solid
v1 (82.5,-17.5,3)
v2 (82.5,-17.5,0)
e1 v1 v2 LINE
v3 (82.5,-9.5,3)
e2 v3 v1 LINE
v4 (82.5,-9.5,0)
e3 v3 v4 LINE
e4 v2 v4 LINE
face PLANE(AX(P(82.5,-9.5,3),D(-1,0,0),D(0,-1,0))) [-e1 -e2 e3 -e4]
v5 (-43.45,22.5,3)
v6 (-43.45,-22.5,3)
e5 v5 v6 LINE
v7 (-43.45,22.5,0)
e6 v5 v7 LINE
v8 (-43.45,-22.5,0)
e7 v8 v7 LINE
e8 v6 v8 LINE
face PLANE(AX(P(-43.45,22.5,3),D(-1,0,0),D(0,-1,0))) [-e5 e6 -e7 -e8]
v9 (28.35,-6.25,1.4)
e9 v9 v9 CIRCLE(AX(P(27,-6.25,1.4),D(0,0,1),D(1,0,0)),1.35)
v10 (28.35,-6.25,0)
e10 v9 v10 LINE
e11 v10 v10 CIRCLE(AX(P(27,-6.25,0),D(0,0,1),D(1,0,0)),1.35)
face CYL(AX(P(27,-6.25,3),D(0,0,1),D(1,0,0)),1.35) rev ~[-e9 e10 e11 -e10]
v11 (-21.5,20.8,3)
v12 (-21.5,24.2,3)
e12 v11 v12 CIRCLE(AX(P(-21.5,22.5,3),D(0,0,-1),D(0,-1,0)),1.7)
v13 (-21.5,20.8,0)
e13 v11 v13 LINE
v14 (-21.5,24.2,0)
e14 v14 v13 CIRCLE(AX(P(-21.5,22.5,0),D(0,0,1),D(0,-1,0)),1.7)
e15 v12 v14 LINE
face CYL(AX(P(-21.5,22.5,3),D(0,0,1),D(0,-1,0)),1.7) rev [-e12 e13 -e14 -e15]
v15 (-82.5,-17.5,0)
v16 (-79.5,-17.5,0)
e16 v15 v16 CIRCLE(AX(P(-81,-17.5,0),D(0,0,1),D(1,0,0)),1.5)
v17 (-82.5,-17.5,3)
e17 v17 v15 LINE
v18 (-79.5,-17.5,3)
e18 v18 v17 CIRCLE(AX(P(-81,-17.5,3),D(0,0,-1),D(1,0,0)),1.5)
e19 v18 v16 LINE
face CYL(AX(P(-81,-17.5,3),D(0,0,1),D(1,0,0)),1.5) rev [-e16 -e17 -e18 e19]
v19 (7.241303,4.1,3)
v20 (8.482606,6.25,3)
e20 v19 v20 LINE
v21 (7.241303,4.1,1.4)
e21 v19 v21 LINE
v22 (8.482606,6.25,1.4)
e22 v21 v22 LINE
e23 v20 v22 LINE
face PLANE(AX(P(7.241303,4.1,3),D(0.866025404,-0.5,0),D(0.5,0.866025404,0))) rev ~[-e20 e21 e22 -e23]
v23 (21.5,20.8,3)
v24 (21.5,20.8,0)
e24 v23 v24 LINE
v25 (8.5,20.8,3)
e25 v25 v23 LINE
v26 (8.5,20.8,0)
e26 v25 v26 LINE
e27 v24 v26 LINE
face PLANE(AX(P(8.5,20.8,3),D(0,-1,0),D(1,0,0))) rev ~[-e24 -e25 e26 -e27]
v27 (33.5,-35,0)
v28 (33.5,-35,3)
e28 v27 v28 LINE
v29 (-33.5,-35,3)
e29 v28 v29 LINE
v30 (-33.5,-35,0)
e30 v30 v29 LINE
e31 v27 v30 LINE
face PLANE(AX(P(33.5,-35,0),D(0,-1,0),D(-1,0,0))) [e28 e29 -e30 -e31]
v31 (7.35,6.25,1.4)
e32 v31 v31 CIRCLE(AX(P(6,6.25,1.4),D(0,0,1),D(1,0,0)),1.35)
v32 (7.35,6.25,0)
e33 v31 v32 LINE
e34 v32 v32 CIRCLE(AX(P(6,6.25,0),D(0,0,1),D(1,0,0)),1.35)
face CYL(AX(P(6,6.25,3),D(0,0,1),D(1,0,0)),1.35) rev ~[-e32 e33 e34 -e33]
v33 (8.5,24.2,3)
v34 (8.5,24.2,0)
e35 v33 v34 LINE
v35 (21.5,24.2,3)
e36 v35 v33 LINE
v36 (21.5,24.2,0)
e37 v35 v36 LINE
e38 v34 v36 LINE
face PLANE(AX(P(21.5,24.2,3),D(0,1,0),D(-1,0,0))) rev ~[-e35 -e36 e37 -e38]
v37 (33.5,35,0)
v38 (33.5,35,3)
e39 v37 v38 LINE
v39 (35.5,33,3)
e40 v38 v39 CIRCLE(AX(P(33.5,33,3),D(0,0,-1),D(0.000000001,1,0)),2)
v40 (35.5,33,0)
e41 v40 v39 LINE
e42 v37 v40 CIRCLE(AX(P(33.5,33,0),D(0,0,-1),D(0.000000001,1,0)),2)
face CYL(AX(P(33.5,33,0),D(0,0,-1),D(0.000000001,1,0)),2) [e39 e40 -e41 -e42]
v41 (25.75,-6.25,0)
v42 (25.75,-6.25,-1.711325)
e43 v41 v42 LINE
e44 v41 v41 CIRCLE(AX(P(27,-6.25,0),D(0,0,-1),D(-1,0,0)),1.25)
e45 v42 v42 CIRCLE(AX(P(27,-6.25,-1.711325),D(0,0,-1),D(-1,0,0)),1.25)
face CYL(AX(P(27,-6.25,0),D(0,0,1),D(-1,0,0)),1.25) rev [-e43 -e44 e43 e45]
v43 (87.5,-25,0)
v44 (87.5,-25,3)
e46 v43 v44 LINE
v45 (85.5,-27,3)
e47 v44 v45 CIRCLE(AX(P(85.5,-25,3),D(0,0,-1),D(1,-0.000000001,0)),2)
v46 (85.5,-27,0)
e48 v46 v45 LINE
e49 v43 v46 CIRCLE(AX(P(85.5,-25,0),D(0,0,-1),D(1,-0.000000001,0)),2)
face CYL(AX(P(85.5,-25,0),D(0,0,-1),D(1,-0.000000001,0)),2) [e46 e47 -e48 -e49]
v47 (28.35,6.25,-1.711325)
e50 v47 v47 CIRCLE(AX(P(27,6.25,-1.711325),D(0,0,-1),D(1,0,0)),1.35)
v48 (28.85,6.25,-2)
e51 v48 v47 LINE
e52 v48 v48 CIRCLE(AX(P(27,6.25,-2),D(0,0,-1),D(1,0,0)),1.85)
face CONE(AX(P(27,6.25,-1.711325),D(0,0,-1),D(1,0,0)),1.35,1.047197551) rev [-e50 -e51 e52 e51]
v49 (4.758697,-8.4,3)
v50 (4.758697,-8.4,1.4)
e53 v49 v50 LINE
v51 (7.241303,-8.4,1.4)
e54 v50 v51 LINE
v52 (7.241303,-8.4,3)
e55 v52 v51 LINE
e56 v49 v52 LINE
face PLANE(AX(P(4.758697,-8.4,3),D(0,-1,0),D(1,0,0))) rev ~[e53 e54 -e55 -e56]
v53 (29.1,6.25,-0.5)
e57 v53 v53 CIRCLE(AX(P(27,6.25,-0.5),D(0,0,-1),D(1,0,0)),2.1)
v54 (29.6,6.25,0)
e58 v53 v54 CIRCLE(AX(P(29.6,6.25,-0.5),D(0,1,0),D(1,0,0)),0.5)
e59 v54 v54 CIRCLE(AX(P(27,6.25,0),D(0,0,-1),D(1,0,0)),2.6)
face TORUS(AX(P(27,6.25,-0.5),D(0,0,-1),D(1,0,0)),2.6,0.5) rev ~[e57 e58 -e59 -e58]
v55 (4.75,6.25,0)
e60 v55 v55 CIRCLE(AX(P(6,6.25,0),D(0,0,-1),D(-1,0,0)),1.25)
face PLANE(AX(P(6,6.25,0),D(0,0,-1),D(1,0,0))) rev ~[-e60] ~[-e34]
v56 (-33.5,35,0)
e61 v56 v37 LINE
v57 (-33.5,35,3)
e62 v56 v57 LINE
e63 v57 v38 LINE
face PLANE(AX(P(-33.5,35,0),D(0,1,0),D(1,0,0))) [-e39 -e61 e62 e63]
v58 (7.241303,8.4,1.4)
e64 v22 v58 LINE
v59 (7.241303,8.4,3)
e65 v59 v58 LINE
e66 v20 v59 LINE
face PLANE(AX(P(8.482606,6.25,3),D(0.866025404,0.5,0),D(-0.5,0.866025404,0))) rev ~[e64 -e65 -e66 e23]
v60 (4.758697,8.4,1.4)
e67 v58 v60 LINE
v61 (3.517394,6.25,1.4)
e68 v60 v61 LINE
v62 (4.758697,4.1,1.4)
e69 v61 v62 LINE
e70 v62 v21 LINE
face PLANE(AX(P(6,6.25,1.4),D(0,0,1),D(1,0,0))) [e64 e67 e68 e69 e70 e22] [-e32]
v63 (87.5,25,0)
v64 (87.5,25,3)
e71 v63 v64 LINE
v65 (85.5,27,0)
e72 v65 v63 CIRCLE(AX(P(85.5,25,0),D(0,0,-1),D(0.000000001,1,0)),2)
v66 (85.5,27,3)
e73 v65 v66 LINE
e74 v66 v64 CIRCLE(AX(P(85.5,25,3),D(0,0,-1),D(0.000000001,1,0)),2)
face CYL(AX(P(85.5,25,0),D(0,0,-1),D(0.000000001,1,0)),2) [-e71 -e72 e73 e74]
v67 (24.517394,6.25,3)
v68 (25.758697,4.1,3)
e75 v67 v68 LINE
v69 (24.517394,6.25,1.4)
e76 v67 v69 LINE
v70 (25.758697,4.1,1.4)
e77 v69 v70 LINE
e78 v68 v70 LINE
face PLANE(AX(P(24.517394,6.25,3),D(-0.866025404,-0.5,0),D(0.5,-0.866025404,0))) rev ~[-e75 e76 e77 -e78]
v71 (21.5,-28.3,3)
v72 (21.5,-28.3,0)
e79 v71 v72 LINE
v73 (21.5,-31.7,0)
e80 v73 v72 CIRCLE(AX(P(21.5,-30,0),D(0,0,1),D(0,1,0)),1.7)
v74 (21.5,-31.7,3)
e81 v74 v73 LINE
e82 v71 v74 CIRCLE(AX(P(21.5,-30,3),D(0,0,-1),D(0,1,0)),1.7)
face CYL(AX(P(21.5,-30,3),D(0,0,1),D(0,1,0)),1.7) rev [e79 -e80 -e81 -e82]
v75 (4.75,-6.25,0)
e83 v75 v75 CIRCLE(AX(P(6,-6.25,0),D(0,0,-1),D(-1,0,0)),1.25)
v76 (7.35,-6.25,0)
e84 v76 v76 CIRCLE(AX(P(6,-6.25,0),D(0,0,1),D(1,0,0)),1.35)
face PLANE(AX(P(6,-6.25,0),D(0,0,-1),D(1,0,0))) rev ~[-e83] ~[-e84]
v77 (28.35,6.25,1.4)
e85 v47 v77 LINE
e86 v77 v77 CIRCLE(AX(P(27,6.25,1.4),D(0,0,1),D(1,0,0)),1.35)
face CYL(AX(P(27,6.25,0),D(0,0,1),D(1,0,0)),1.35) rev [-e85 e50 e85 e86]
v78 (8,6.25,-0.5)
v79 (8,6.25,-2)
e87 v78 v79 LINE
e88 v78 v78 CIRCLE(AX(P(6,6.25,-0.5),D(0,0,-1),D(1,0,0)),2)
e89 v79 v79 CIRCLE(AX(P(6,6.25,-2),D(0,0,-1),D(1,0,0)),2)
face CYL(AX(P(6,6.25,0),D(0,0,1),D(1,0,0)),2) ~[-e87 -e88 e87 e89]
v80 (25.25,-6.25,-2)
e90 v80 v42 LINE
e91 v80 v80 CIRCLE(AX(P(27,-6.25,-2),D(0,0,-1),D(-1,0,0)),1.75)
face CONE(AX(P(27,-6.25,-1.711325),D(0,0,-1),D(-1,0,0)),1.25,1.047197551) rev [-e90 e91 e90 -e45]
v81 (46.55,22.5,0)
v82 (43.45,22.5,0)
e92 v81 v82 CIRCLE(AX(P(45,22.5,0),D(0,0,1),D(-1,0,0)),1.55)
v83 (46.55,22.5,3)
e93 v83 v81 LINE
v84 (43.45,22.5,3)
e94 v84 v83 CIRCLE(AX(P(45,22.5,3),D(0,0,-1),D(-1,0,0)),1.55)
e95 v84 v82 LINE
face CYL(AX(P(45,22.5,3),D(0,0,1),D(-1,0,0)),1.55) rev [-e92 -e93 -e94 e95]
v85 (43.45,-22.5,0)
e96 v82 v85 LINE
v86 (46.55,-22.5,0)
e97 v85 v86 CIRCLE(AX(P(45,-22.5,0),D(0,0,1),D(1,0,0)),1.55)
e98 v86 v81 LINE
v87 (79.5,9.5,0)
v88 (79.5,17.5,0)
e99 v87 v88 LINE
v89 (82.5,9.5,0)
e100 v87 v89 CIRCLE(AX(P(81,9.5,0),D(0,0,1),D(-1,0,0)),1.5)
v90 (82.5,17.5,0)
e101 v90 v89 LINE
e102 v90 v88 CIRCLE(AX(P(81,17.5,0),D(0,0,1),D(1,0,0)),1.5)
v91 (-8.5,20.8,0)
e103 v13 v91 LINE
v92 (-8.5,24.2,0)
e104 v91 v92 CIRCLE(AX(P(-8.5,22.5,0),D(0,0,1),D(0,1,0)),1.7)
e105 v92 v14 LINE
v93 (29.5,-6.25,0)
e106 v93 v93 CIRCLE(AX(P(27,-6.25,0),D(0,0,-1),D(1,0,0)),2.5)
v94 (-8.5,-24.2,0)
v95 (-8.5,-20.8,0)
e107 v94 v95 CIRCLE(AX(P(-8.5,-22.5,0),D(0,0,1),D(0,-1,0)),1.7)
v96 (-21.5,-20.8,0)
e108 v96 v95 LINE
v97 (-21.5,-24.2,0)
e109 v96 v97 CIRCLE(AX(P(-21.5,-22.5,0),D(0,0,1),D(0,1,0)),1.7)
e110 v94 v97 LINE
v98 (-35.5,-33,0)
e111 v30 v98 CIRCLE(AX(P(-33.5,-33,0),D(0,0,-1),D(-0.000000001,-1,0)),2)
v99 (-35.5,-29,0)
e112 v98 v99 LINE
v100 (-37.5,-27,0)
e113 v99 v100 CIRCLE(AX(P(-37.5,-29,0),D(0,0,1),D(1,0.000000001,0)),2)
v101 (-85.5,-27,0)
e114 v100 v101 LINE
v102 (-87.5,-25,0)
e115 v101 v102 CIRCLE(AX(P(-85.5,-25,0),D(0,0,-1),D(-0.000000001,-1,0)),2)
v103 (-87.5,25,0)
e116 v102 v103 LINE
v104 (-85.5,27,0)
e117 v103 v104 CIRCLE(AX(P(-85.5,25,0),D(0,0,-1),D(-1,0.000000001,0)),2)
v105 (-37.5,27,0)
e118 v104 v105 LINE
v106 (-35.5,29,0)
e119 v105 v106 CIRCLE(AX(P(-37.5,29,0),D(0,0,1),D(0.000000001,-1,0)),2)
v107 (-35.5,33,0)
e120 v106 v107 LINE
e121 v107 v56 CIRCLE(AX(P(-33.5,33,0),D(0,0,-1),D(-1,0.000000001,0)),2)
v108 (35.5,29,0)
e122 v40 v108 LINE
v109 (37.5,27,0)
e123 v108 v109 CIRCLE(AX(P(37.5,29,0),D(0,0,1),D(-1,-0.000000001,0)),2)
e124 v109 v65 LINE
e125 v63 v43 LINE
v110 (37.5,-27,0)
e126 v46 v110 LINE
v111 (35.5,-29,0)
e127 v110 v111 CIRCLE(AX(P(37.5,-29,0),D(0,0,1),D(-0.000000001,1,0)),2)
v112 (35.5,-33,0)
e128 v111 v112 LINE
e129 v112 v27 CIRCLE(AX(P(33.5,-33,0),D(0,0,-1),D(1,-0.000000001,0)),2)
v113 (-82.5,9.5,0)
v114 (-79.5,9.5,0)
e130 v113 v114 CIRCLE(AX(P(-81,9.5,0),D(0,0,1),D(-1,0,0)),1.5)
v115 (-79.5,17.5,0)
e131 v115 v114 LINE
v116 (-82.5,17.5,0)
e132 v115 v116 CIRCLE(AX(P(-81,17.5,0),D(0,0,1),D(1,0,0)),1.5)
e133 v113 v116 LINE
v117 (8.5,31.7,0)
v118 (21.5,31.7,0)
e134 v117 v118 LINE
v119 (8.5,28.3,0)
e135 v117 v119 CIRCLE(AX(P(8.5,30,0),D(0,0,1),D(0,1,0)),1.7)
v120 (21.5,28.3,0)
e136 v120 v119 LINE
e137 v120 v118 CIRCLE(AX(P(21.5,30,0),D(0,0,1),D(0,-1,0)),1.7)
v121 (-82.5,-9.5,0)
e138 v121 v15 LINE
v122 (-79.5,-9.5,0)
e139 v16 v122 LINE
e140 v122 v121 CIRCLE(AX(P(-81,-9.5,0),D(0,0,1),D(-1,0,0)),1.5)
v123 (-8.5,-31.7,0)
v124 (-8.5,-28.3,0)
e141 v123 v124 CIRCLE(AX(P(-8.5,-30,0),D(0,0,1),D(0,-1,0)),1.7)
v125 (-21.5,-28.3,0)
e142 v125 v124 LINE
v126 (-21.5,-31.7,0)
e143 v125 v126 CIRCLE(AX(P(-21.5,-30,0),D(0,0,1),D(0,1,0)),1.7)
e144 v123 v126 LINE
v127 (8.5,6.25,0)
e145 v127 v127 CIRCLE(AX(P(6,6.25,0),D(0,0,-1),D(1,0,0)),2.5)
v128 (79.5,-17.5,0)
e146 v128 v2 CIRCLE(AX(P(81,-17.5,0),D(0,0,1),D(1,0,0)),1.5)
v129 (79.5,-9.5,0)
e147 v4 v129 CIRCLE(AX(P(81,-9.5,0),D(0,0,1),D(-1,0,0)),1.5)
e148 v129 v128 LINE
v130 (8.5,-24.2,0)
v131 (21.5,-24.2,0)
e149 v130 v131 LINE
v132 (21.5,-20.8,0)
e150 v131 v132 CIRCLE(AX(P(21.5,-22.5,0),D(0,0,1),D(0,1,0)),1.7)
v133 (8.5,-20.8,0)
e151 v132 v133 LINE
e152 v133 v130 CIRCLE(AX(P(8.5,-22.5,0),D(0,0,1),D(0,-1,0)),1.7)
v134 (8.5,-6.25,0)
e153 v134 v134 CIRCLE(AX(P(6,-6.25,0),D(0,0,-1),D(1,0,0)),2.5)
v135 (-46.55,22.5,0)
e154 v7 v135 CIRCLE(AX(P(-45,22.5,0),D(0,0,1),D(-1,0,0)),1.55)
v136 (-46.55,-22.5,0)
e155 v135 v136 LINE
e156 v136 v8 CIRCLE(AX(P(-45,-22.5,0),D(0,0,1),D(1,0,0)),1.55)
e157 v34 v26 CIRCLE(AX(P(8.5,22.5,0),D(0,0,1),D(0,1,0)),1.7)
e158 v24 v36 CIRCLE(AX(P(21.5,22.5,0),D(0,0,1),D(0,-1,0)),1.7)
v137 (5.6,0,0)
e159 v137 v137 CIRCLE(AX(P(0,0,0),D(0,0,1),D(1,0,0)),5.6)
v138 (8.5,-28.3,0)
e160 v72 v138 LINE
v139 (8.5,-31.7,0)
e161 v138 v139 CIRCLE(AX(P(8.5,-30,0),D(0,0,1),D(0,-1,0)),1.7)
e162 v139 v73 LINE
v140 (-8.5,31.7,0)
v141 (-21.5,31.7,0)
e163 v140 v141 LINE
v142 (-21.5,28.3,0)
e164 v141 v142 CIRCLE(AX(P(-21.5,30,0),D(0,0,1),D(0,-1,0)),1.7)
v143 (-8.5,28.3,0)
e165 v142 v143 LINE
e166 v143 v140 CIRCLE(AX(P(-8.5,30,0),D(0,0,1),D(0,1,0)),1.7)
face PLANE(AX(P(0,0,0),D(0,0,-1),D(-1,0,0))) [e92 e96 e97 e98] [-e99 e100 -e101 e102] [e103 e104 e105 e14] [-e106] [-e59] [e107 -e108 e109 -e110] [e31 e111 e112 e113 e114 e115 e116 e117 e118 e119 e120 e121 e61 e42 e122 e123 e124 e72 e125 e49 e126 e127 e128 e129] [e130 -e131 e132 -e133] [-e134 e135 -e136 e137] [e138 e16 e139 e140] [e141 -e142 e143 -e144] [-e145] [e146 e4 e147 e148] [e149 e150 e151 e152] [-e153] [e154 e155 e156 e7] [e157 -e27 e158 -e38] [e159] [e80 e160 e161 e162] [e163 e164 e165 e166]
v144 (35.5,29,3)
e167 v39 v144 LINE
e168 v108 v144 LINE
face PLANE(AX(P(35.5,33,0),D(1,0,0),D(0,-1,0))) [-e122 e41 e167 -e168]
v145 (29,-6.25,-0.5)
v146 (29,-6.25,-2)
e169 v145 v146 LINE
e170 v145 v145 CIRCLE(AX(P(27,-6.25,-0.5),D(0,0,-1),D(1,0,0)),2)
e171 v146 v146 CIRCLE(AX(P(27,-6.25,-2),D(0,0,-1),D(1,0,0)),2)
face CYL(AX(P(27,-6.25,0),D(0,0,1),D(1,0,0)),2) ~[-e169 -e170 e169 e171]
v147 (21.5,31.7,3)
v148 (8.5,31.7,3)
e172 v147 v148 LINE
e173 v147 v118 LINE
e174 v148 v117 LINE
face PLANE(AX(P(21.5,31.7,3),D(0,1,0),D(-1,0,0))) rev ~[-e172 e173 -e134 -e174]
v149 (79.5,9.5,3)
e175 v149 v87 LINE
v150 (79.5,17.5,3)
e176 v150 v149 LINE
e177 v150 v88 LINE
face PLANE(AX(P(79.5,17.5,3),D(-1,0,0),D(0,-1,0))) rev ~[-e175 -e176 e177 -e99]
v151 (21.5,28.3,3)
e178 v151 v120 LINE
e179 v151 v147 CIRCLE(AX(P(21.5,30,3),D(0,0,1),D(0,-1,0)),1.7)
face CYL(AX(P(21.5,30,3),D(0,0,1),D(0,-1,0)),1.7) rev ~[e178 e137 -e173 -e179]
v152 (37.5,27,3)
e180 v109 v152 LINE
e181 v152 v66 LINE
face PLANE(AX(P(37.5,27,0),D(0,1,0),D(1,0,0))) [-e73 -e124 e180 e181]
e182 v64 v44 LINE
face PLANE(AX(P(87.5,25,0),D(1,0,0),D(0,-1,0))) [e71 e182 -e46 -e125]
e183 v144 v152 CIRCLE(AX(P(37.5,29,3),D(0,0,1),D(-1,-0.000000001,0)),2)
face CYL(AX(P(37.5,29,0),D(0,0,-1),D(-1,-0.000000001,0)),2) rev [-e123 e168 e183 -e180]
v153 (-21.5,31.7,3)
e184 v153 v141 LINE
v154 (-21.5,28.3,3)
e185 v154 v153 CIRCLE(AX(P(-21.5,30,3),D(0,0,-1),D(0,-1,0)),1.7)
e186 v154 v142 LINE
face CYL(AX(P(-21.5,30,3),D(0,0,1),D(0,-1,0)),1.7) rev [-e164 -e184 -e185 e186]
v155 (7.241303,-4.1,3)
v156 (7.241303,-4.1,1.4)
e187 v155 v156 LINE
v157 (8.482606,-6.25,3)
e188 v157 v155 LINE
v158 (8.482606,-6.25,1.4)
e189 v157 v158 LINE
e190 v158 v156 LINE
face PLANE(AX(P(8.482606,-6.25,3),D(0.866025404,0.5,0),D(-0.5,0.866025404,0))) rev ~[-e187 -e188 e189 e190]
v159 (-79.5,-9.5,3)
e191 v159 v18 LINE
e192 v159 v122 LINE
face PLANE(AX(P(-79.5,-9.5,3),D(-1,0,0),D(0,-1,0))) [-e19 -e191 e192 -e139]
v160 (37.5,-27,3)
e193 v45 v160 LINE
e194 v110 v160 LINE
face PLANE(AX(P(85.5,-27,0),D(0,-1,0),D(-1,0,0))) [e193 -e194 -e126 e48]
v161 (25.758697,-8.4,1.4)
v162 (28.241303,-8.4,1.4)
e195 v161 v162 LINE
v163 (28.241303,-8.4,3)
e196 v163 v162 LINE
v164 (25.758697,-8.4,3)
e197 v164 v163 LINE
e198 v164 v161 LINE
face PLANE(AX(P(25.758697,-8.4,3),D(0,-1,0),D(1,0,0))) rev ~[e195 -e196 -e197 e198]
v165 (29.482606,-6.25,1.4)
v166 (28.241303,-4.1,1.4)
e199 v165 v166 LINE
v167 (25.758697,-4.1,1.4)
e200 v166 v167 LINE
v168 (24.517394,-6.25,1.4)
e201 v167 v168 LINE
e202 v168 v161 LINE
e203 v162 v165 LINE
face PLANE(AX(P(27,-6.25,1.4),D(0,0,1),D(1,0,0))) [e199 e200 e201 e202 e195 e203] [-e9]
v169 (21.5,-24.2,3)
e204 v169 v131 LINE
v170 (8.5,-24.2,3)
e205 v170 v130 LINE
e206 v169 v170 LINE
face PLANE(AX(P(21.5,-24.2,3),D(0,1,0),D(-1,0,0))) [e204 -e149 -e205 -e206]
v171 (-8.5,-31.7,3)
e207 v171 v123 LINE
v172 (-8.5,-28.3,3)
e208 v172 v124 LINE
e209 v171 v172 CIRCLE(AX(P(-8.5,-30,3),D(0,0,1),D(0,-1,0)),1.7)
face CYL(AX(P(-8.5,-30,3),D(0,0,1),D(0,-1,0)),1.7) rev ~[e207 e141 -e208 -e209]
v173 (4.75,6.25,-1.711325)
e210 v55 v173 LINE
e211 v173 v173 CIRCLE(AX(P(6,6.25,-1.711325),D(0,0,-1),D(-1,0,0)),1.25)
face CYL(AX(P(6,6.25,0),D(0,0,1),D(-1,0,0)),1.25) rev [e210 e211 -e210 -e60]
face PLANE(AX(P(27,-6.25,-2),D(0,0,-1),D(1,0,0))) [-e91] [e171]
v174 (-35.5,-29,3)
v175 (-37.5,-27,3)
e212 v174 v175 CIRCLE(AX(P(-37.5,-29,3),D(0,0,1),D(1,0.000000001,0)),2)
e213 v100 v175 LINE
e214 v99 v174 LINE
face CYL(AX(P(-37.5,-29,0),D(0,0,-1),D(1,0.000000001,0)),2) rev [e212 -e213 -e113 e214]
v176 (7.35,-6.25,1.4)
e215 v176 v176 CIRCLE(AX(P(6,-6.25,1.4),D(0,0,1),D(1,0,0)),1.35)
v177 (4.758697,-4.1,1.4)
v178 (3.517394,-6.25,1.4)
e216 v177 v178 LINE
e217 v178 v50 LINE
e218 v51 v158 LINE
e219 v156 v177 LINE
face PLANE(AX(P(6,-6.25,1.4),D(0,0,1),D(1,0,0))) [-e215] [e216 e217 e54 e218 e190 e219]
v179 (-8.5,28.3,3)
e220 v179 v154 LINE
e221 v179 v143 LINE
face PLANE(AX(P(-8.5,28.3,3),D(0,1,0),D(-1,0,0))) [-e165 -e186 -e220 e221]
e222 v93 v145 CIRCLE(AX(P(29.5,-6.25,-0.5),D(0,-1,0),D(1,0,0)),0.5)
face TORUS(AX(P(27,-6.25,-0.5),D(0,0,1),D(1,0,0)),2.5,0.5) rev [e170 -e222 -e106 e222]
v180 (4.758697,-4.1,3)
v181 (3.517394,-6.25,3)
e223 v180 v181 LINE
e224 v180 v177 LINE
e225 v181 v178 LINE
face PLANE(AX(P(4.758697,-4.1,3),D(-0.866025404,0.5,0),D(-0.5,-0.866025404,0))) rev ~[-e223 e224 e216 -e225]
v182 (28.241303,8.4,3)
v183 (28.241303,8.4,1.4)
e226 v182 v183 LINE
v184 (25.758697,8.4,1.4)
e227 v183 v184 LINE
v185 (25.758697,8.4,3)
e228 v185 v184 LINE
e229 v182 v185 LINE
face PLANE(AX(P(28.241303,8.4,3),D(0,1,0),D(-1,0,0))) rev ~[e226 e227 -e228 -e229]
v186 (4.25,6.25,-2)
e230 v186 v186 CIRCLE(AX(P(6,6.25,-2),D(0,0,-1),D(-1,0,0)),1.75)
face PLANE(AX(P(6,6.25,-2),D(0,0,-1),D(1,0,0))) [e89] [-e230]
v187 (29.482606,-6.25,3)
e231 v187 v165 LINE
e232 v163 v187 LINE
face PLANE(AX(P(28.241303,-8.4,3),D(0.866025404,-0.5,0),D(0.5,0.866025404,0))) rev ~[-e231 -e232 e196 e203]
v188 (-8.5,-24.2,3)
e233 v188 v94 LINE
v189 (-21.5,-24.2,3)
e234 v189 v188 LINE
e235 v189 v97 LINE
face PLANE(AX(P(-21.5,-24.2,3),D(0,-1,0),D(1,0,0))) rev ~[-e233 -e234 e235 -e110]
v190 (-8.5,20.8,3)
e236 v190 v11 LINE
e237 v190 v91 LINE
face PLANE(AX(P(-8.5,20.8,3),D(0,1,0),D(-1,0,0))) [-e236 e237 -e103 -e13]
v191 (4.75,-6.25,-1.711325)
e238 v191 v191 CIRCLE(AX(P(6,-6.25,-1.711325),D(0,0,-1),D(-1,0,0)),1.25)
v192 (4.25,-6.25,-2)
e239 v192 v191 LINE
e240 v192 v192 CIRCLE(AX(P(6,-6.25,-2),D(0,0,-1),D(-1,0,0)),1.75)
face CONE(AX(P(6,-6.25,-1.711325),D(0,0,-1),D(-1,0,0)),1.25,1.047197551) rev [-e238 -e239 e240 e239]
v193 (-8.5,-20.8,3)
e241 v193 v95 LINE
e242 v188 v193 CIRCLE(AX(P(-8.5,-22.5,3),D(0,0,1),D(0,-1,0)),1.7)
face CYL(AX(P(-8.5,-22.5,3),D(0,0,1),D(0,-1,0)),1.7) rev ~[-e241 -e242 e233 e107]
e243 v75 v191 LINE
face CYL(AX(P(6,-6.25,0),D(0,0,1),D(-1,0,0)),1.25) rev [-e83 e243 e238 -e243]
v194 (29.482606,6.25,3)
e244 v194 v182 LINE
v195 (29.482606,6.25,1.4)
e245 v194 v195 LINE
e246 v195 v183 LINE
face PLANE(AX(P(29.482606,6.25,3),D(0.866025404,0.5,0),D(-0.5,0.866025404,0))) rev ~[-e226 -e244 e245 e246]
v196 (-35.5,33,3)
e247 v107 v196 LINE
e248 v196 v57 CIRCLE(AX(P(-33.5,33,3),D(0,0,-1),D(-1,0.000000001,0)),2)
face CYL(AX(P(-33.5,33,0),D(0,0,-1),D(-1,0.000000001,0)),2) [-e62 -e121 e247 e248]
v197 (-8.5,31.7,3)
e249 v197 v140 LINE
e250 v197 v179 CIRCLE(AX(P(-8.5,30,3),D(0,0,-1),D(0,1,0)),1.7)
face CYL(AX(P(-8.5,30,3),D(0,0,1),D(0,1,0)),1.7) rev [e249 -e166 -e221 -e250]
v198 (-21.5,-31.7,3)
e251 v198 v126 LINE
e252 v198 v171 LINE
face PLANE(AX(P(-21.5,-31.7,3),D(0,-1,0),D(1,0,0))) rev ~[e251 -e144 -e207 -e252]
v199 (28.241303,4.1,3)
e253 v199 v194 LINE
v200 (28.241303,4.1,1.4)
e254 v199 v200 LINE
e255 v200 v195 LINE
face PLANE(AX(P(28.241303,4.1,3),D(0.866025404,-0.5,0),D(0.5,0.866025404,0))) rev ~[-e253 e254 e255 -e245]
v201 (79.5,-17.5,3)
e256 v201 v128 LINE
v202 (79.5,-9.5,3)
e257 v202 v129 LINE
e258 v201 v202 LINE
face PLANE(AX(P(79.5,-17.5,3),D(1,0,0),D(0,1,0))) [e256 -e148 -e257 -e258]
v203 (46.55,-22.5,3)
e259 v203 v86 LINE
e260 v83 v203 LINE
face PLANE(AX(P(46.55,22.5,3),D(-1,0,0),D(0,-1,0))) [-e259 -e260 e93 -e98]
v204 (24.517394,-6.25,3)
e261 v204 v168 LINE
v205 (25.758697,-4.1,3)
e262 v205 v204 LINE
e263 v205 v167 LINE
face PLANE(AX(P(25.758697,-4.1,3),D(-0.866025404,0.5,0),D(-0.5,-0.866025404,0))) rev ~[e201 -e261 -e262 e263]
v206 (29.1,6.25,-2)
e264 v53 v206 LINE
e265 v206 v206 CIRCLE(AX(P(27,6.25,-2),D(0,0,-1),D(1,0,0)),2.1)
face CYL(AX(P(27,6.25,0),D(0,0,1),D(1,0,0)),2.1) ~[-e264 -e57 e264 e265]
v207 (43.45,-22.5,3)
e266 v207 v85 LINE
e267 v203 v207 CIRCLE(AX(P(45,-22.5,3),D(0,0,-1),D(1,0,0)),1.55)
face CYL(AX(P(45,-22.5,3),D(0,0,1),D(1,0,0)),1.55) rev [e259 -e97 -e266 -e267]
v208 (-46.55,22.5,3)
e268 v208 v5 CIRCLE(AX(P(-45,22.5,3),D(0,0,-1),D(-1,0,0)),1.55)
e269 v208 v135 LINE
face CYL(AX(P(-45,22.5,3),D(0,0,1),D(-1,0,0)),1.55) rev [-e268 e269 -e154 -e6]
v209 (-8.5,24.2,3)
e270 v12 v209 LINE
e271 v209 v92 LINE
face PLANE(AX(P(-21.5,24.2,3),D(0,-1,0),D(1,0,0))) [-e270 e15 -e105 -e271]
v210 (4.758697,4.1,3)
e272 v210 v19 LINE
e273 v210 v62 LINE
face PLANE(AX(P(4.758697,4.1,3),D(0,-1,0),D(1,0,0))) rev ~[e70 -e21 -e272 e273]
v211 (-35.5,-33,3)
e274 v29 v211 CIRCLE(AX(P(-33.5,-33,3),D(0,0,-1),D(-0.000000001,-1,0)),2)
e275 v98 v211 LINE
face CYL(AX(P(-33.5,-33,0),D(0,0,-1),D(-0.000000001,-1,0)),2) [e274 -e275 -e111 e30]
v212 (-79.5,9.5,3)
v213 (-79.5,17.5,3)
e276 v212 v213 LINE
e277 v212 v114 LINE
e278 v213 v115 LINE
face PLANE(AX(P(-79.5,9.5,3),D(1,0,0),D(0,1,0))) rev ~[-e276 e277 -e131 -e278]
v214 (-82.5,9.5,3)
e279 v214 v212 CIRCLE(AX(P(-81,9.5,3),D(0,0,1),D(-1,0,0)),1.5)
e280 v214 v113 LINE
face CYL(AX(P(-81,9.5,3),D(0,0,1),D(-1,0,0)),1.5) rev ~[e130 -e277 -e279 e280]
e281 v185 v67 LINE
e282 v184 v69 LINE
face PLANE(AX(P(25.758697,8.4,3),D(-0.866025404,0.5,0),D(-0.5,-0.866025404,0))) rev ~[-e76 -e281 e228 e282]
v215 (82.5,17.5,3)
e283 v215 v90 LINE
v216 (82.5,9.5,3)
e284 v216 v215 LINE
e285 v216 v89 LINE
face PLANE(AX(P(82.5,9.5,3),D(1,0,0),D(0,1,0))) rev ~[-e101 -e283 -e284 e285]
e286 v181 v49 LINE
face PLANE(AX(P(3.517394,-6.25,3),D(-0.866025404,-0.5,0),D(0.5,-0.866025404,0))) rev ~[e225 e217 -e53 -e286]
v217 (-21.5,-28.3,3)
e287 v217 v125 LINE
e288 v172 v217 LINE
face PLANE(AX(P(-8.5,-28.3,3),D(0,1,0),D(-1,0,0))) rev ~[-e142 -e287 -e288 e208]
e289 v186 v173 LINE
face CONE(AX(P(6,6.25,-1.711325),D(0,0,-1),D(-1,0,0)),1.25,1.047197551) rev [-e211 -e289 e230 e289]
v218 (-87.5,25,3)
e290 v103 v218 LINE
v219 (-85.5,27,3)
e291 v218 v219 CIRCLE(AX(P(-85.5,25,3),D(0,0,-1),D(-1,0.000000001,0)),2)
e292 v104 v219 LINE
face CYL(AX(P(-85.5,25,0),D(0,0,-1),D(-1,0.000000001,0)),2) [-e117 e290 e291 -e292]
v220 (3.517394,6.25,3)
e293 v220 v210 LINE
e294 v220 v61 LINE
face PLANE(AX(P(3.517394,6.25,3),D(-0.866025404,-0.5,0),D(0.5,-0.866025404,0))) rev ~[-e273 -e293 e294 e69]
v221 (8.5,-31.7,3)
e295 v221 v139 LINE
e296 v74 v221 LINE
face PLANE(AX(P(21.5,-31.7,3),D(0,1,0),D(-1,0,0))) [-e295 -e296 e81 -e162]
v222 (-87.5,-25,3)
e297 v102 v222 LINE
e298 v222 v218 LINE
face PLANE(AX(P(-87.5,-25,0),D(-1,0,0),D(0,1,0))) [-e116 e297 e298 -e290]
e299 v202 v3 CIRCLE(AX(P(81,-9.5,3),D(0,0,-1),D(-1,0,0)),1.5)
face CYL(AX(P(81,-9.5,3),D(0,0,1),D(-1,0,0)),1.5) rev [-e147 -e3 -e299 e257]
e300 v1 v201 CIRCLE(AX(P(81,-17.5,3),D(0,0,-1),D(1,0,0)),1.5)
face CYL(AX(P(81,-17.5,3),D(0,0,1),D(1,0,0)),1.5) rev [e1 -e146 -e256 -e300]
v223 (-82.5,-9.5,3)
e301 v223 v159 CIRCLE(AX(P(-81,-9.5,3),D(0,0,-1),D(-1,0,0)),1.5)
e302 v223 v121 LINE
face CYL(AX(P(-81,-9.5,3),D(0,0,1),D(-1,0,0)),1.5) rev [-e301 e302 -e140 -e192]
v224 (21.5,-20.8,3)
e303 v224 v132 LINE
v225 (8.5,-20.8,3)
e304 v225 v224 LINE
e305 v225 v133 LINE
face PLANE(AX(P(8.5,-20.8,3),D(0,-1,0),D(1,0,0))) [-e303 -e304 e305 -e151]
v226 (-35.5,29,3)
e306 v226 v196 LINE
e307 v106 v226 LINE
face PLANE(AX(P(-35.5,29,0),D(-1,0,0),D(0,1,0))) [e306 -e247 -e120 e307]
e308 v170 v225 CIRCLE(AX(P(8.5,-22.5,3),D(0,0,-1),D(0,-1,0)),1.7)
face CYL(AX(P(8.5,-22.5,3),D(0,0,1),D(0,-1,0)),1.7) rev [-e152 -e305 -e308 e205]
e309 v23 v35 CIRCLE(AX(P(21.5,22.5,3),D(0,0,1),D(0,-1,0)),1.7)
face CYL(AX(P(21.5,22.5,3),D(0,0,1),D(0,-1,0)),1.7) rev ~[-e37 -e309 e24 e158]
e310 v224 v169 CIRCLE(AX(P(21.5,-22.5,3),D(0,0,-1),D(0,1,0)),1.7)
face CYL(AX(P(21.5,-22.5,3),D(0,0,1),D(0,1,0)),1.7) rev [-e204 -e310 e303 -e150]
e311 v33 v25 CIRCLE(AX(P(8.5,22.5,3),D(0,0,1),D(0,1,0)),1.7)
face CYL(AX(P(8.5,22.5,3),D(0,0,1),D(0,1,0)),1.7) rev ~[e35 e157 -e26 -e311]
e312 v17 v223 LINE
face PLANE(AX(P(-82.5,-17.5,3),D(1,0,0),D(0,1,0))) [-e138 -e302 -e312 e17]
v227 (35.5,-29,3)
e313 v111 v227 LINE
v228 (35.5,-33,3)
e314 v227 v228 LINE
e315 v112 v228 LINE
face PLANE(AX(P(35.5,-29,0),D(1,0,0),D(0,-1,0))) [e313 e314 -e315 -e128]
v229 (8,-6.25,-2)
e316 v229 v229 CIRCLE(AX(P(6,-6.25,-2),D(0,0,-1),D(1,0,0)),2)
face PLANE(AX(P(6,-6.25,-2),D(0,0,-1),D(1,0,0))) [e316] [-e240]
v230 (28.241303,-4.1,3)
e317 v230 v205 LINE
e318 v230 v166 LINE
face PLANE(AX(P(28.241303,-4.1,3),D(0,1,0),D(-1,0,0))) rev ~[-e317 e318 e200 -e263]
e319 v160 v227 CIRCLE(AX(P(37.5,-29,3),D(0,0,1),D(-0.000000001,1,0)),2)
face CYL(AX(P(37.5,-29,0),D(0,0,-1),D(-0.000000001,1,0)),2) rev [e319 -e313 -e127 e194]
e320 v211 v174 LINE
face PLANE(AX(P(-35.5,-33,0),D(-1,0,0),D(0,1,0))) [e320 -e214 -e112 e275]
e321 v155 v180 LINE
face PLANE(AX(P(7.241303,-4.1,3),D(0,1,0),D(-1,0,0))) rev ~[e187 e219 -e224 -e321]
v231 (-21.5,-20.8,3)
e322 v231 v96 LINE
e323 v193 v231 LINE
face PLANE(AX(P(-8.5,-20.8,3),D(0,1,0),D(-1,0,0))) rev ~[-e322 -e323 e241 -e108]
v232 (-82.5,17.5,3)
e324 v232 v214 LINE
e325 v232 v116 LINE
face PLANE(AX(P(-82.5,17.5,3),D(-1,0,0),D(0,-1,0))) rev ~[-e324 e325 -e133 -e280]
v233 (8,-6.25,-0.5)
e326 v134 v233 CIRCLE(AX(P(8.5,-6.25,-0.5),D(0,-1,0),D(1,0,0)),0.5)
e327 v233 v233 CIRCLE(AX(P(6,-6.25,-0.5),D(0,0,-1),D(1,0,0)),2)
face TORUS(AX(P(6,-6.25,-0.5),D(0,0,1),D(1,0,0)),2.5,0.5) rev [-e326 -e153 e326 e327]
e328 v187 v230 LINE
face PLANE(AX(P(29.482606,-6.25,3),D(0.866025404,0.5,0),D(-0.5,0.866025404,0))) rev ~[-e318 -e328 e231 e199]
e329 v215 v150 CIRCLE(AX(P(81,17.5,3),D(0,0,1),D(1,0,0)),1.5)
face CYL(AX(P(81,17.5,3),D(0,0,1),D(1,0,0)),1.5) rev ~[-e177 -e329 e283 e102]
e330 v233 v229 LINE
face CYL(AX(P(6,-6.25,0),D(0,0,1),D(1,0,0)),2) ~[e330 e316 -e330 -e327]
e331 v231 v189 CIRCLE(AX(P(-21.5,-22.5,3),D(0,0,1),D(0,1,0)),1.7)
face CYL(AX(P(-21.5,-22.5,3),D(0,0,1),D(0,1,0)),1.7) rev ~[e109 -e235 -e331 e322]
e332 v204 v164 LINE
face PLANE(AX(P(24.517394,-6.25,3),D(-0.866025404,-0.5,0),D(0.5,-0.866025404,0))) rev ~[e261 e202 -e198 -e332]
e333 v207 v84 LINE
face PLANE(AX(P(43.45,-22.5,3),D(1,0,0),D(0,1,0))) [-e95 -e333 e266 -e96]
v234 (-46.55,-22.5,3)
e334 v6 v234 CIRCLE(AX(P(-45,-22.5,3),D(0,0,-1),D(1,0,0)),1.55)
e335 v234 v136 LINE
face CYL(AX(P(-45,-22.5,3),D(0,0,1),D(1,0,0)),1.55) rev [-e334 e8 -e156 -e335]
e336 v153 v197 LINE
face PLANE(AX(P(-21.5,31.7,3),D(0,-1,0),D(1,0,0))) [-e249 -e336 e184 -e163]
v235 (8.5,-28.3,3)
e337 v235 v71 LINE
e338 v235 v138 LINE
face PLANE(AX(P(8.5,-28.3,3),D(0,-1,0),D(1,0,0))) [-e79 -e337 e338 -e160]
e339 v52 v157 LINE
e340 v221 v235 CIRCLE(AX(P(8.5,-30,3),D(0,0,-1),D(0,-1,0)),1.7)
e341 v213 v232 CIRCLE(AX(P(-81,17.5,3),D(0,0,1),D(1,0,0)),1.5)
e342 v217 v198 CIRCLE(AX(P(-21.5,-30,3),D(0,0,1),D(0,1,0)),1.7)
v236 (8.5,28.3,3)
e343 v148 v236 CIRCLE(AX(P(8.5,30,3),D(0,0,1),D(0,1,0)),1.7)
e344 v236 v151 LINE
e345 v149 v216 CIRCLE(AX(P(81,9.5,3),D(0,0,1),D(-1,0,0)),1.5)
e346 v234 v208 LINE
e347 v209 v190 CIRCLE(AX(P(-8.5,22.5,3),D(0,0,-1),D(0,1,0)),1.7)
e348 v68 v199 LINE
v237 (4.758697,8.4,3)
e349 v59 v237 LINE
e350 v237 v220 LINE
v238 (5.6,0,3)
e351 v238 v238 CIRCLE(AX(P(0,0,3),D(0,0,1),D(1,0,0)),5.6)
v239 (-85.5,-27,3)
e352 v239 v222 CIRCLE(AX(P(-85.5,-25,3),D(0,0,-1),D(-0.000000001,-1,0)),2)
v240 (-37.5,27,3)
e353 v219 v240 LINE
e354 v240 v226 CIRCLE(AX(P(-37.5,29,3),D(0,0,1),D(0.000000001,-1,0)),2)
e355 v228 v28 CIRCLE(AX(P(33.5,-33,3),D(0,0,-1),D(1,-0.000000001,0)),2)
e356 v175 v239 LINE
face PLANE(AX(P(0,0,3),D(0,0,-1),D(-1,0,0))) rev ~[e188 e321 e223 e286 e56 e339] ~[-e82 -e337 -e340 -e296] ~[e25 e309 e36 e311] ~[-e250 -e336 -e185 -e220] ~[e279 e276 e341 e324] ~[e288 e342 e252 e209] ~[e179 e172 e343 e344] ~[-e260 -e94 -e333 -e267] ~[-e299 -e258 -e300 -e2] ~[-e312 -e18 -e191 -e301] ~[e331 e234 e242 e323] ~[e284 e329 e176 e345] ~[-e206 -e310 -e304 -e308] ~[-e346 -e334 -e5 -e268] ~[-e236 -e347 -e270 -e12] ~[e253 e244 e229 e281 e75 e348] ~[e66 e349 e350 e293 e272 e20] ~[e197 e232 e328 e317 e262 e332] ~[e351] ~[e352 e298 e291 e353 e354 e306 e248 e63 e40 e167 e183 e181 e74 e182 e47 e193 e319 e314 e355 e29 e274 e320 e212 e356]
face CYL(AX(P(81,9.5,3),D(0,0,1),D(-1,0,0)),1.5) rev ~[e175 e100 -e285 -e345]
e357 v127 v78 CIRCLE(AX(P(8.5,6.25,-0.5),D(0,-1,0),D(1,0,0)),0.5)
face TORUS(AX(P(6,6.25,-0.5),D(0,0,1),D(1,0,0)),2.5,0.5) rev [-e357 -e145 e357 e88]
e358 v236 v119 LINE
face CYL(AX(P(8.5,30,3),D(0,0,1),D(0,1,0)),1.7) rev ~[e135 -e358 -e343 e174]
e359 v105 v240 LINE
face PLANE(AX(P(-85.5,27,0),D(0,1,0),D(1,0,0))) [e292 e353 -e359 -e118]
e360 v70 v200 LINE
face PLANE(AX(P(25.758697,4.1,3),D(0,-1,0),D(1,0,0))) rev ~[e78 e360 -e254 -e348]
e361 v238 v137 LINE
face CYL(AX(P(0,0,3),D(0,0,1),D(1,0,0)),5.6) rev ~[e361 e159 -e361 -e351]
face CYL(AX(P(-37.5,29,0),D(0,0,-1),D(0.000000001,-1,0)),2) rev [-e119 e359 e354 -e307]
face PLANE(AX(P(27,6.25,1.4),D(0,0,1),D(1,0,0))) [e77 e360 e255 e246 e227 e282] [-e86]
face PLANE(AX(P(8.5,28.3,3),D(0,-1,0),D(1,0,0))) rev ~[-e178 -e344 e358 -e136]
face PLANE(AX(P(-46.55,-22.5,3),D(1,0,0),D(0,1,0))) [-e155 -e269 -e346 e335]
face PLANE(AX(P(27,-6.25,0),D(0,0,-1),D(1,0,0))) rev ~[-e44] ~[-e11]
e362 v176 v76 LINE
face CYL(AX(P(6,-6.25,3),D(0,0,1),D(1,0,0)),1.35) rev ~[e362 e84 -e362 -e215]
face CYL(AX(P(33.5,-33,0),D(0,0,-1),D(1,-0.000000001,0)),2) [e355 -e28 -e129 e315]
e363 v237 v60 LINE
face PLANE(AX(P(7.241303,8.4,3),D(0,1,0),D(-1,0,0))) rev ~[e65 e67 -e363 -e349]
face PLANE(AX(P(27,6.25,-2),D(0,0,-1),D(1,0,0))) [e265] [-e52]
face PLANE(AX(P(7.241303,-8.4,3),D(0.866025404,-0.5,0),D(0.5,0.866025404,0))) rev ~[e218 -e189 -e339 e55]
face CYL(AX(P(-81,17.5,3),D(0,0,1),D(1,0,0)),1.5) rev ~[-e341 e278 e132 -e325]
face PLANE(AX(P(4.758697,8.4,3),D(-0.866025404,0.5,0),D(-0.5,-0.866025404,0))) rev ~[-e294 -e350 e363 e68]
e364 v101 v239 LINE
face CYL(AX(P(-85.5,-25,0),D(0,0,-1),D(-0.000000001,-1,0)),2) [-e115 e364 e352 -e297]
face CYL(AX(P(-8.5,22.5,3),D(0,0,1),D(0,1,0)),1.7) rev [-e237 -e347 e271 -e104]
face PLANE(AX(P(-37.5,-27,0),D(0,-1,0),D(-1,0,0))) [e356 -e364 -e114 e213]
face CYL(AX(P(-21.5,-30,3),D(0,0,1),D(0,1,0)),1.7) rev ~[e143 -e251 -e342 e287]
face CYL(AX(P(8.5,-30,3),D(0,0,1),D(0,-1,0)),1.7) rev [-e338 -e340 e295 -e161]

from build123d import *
from OCP.BRepFilletAPI import BRepFilletAPI_MakeChamfer

# Parameters (mm, degrees)
EXTRUDE_1_DEPTH     = 3
SKETCH_2_R          = 5.6
SKETCH_2_R_2        = 1.35
CUT_EXTRUDE_1_DEPTH = 95.288122264
CUT_EXTRUDE_2_DEPTH = 1.6
SKETCH_4_R          = 2.1
SKETCH_4_R_2        = 1.35
SKETCH_4_R_3        = 2
SKETCH_4_R_4        = 1.25
EXTRUDE_2_DEPTH     = 2
CHAMFER_1_SIZE      = 0.5
CHAMFER_1_SIZE2     = 0.288675135
FILLET_2_R          = 0.5


with BuildPart() as part:
    # 草圖1 → 填料-伸長1 (new body)
    with BuildSketch(Plane.XY):
        with BuildLine():
            Line((35.5, 33), (35.5, 29))
            ThreePointArc((35.5, 29), (36.085786438, 27.585786438), (37.5, 27))
            Line((37.5, 27), (85.5, 27))
            ThreePointArc((85.5, 27), (86.914213562, 26.414213562), (87.5, 25))
            Line((87.5, 25), (87.5, -25))
            ThreePointArc((87.5, -25), (86.914213562, -26.414213562), (85.5, -27))
            Line((85.5, -27), (37.5, -27))
            ThreePointArc((37.5, -27), (36.085786438, -27.585786438), (35.5, -29))
            Line((35.5, -29), (35.5, -33))
            ThreePointArc((35.5, -33), (34.914213562, -34.414213562), (33.5, -35))
            Line((33.5, -35), (-33.5, -35))
            ThreePointArc((-33.5, -35), (-34.914213562, -34.414213562), (-35.5, -33))
            Line((-35.5, -33), (-35.5, -29))
            ThreePointArc((-35.5, -29), (-36.085786438, -27.585786438), (-37.5, -27))
            Line((-37.5, -27), (-85.5, -27))
            ThreePointArc((-85.5, -27), (-86.914213562, -26.414213562), (-87.5, -25))
            Line((-87.5, -25), (-87.5, 25))
            ThreePointArc((-87.5, 25), (-86.914213562, 26.414213562), (-85.5, 27))
            Line((-85.5, 27), (-37.5, 27))
            ThreePointArc((-37.5, 27), (-36.085786438, 27.585786438), (-35.5, 29))
            Line((-35.5, 29), (-35.5, 33))
            ThreePointArc((-35.5, 33), (-34.914213562, 34.414213562), (-33.5, 35))
            Line((-33.5, 35), (33.5, 35))
            ThreePointArc((33.5, 35), (34.914213562, 34.414213562), (35.5, 33))
        make_face()
    extrude(amount=EXTRUDE_1_DEPTH)

    # 草圖2 → 除料-伸長1 (cut, through all)
    with BuildSketch(Plane.XY.offset(3)):
        Circle(SKETCH_2_R)
        with Locations((27, 6.25)):
            Circle(SKETCH_2_R_2)
        with Locations((6, 6.25)):
            Circle(SKETCH_2_R_2)
        with Locations((6, -6.25)):
            Circle(SKETCH_2_R_2)
        with Locations((27, -6.25)):
            Circle(SKETCH_2_R_2)
        with BuildLine():
            Line((43.45, -22.5), (43.45, 22.5))
            ThreePointArc((43.45, 22.5), (45, 24.05), (46.55, 22.5))
            Line((46.55, 22.5), (46.55, -22.5))
            ThreePointArc((46.55, -22.5), (45, -24.05), (43.45, -22.5))
        make_face()
        with BuildLine():
            Line((-46.55, -22.5), (-46.55, 22.5))
            ThreePointArc((-46.55, 22.5), (-45, 24.05), (-43.45, 22.5))
            Line((-43.45, 22.5), (-43.45, -22.5))
            ThreePointArc((-43.45, -22.5), (-45, -24.05), (-46.55, -22.5))
        make_face()
        with BuildLine():
            Line((21.5, -31.7), (8.5, -31.7))
            ThreePointArc((8.5, -31.7), (6.8, -30), (8.5, -28.3))
            Line((8.5, -28.3), (21.5, -28.3))
            ThreePointArc((21.5, -28.3), (23.2, -30), (21.5, -31.7))
        make_face()
        with BuildLine():
            Line((-21.5, -31.7), (-8.5, -31.7))
            ThreePointArc((-8.5, -31.7), (-6.8, -30), (-8.5, -28.3))
            Line((-8.5, -28.3), (-21.5, -28.3))
            ThreePointArc((-21.5, -28.3), (-23.2, -30), (-21.5, -31.7))
        make_face()
        with BuildLine():
            Line((21.5, 31.7), (8.5, 31.7))
            ThreePointArc((8.5, 31.7), (6.8, 30), (8.5, 28.3))
            Line((8.5, 28.3), (21.5, 28.3))
            ThreePointArc((21.5, 28.3), (23.2, 30), (21.5, 31.7))
        make_face()
        with BuildLine():
            Line((-21.5, 31.7), (-8.5, 31.7))
            ThreePointArc((-8.5, 31.7), (-6.8, 30), (-8.5, 28.3))
            Line((-8.5, 28.3), (-21.5, 28.3))
            ThreePointArc((-21.5, 28.3), (-23.2, 30), (-21.5, 31.7))
        make_face()
        with BuildLine():
            Line((21.5, 24.2), (8.5, 24.2))
            ThreePointArc((8.5, 24.2), (6.8, 22.5), (8.5, 20.8))
            Line((8.5, 20.8), (21.5, 20.8))
            ThreePointArc((21.5, 20.8), (23.2, 22.5), (21.5, 24.2))
        make_face()
        with BuildLine():
            Line((-21.5, 24.2), (-8.5, 24.2))
            ThreePointArc((-8.5, 24.2), (-6.8, 22.5), (-8.5, 20.8))
            Line((-8.5, 20.8), (-21.5, 20.8))
            ThreePointArc((-21.5, 20.8), (-23.2, 22.5), (-21.5, 24.2))
        make_face()
        with BuildLine():
            Line((-21.5, -24.2), (-8.5, -24.2))
            ThreePointArc((-8.5, -24.2), (-6.8, -22.5), (-8.5, -20.8))
            Line((-8.5, -20.8), (-21.5, -20.8))
            ThreePointArc((-21.5, -20.8), (-23.2, -22.5), (-21.5, -24.2))
        make_face()
        with BuildLine():
            Line((21.5, -24.2), (8.5, -24.2))
            ThreePointArc((8.5, -24.2), (6.8, -22.5), (8.5, -20.8))
            Line((8.5, -20.8), (21.5, -20.8))
            ThreePointArc((21.5, -20.8), (23.2, -22.5), (21.5, -24.2))
        make_face()
        with BuildLine():
            Line((-82.5, -17.5), (-82.5, -9.5))
            ThreePointArc((-82.5, -9.5), (-81, -8), (-79.5, -9.5))
            Line((-79.5, -9.5), (-79.5, -17.5))
            ThreePointArc((-79.5, -17.5), (-81, -19), (-82.5, -17.5))
        make_face()
        with BuildLine():
            Line((-82.5, 17.5), (-82.5, 9.5))
            ThreePointArc((-82.5, 9.5), (-81, 8), (-79.5, 9.5))
            Line((-79.5, 9.5), (-79.5, 17.5))
            ThreePointArc((-79.5, 17.5), (-81, 19), (-82.5, 17.5))
        make_face()
        with BuildLine():
            Line((79.5, -17.5), (79.5, -9.5))
            ThreePointArc((79.5, -9.5), (81, -8), (82.5, -9.5))
            Line((82.5, -9.5), (82.5, -17.5))
            ThreePointArc((82.5, -17.5), (81, -19), (79.5, -17.5))
        make_face()
        with BuildLine():
            Line((79.5, 17.5), (79.5, 9.5))
            ThreePointArc((79.5, 9.5), (81, 8), (82.5, 9.5))
            Line((82.5, 9.5), (82.5, 17.5))
            ThreePointArc((82.5, 17.5), (81, 19), (79.5, 17.5))
        make_face()
    extrude(amount=-CUT_EXTRUDE_1_DEPTH, mode=Mode.SUBTRACT)

    # 草圖3 → 除料-伸長2 (cut)
    with BuildSketch(Plane.XY.offset(3)):
        Polygon((29.482606158, -6.25), (28.241303079, -4.1), (25.758696921, -4.1), (24.517393842, -6.25), (25.758696921, -8.4), (28.241303079, -8.4), align=None)
        Polygon((8.482606158, -6.25), (7.241303079, -4.1), (4.758696921, -4.1), (3.517393842, -6.25), (4.758696921, -8.4), (7.241303079, -8.4), align=None)
        Polygon((29.482606158, 6.25), (28.241303079, 8.4), (25.758696921, 8.4), (24.517393842, 6.25), (25.758696921, 4.1), (28.241303079, 4.1), align=None)
        Polygon((8.482606158, 6.25), (7.241303079, 8.4), (4.758696921, 8.4), (3.517393842, 6.25), (4.758696921, 4.1), (7.241303079, 4.1), align=None)
    extrude(amount=-CUT_EXTRUDE_2_DEPTH, mode=Mode.SUBTRACT)

    # 草圖4 → 填料-伸長2 (add)
    # profile 1 of 4: a face of its own
    with BuildSketch(Plane(origin=(0, 0, 0), x_dir=(-1, 0, 0), z_dir=(0, 0, -1))):
        with Locations(Location((-27, 6.25, 0), (0, 0, 180))):
            Circle(SKETCH_4_R)
        with Locations(Location((-27, 6.25, 0), (0, 0, 180))):
            Circle(SKETCH_4_R_2, mode=Mode.SUBTRACT)
    # profile 2 of 4: a face of its own
    with BuildSketch(Plane(origin=(0, 0, 0), x_dir=(-1, 0, 0), z_dir=(0, 0, -1))):
        with Locations(Location((-27, -6.25, 0), (0, 0, 180))):
            Circle(SKETCH_4_R_3)
        with Locations((-27, -6.25)):
            Circle(SKETCH_4_R_4, mode=Mode.SUBTRACT)
    # profile 3 of 4: a face of its own
    with BuildSketch(Plane(origin=(0, 0, 0), x_dir=(-1, 0, 0), z_dir=(0, 0, -1))):
        with Locations(Location((-6, 6.25, 0), (0, 0, 180))):
            Circle(SKETCH_4_R_3)
        with Locations((-6, 6.25)):
            Circle(SKETCH_4_R_4, mode=Mode.SUBTRACT)
    # profile 4 of 4: a face of its own
    with BuildSketch(Plane(origin=(0, 0, 0), x_dir=(-1, 0, 0), z_dir=(0, 0, -1))):
        with Locations(Location((-6, -6.25, 0), (0, 0, 180))):
            Circle(SKETCH_4_R_3)
        with Locations((-6, -6.25)):
            Circle(SKETCH_4_R_4, mode=Mode.SUBTRACT)
    extrude(amount=EXTRUDE_2_DEPTH)

    # 導角1: one chamfer whose edges measure the first distance from different faces: ONE call of the kernel's chamfer builder (chamfer() names one face for all edges)
    chamfer_1_edges_1 = [part.edges().sort_by_distance(p)[0] for p in [
        (25.65, 6.25, -2),
    ]]
    chamfer_1_side_1 = [part.faces().sort_by_distance(p)[0] for p in [
        (24.95939697, 6.25, -2),
    ]]
    chamfer_1_edges_2 = [part.edges().sort_by_distance(p)[0] for p in [
        (28.25, -6.25, -2),
    ]]
    chamfer_1_side_2 = [part.faces().sort_by_distance(p)[0] for p in [
        (25.056568542, -6.25, -2),
    ]]
    chamfer_1_edges_3 = [part.edges().sort_by_distance(p)[0] for p in [
        (7.25, 6.25, -2),
    ]]
    chamfer_1_side_3 = [part.faces().sort_by_distance(p)[0] for p in [
        (4.056568542, 6.25, -2),
    ]]
    chamfer_1_edges_4 = [part.edges().sort_by_distance(p)[0] for p in [
        (7.25, -6.25, -2),
    ]]
    chamfer_1_side_4 = [part.faces().sort_by_distance(p)[0] for p in [
        (4.056568542, -6.25, -2),
    ]]
    chamfer_1 = BRepFilletAPI_MakeChamfer(part.part.solid().wrapped)
    for e in chamfer_1_edges_1:
        chamfer_1.Add(CHAMFER_1_SIZE, CHAMFER_1_SIZE2, e.wrapped, chamfer_1_side_1[0].wrapped)  # the first distance lies on this face
    for e in chamfer_1_edges_2:
        chamfer_1.Add(CHAMFER_1_SIZE, CHAMFER_1_SIZE2, e.wrapped, chamfer_1_side_2[0].wrapped)  # the first distance lies on this face
    for e in chamfer_1_edges_3:
        chamfer_1.Add(CHAMFER_1_SIZE, CHAMFER_1_SIZE2, e.wrapped, chamfer_1_side_3[0].wrapped)  # the first distance lies on this face
    for e in chamfer_1_edges_4:
        chamfer_1.Add(CHAMFER_1_SIZE, CHAMFER_1_SIZE2, e.wrapped, chamfer_1_side_4[0].wrapped)  # the first distance lies on this face
    add(Compound.cast(chamfer_1.Shape()), mode=Mode.REPLACE)

    # 圓角2
    fillet_2_edges = [part.edges().sort_by_distance(p)[0] for p in [
        (24.9, 6.25, 0),
        (25, -6.25, 0),
        (4, 6.25, 0),
        (4, -6.25, 0),
    ]]
    fillet(fillet_2_edges, radius=FILLET_2_R)


solid = part.part
